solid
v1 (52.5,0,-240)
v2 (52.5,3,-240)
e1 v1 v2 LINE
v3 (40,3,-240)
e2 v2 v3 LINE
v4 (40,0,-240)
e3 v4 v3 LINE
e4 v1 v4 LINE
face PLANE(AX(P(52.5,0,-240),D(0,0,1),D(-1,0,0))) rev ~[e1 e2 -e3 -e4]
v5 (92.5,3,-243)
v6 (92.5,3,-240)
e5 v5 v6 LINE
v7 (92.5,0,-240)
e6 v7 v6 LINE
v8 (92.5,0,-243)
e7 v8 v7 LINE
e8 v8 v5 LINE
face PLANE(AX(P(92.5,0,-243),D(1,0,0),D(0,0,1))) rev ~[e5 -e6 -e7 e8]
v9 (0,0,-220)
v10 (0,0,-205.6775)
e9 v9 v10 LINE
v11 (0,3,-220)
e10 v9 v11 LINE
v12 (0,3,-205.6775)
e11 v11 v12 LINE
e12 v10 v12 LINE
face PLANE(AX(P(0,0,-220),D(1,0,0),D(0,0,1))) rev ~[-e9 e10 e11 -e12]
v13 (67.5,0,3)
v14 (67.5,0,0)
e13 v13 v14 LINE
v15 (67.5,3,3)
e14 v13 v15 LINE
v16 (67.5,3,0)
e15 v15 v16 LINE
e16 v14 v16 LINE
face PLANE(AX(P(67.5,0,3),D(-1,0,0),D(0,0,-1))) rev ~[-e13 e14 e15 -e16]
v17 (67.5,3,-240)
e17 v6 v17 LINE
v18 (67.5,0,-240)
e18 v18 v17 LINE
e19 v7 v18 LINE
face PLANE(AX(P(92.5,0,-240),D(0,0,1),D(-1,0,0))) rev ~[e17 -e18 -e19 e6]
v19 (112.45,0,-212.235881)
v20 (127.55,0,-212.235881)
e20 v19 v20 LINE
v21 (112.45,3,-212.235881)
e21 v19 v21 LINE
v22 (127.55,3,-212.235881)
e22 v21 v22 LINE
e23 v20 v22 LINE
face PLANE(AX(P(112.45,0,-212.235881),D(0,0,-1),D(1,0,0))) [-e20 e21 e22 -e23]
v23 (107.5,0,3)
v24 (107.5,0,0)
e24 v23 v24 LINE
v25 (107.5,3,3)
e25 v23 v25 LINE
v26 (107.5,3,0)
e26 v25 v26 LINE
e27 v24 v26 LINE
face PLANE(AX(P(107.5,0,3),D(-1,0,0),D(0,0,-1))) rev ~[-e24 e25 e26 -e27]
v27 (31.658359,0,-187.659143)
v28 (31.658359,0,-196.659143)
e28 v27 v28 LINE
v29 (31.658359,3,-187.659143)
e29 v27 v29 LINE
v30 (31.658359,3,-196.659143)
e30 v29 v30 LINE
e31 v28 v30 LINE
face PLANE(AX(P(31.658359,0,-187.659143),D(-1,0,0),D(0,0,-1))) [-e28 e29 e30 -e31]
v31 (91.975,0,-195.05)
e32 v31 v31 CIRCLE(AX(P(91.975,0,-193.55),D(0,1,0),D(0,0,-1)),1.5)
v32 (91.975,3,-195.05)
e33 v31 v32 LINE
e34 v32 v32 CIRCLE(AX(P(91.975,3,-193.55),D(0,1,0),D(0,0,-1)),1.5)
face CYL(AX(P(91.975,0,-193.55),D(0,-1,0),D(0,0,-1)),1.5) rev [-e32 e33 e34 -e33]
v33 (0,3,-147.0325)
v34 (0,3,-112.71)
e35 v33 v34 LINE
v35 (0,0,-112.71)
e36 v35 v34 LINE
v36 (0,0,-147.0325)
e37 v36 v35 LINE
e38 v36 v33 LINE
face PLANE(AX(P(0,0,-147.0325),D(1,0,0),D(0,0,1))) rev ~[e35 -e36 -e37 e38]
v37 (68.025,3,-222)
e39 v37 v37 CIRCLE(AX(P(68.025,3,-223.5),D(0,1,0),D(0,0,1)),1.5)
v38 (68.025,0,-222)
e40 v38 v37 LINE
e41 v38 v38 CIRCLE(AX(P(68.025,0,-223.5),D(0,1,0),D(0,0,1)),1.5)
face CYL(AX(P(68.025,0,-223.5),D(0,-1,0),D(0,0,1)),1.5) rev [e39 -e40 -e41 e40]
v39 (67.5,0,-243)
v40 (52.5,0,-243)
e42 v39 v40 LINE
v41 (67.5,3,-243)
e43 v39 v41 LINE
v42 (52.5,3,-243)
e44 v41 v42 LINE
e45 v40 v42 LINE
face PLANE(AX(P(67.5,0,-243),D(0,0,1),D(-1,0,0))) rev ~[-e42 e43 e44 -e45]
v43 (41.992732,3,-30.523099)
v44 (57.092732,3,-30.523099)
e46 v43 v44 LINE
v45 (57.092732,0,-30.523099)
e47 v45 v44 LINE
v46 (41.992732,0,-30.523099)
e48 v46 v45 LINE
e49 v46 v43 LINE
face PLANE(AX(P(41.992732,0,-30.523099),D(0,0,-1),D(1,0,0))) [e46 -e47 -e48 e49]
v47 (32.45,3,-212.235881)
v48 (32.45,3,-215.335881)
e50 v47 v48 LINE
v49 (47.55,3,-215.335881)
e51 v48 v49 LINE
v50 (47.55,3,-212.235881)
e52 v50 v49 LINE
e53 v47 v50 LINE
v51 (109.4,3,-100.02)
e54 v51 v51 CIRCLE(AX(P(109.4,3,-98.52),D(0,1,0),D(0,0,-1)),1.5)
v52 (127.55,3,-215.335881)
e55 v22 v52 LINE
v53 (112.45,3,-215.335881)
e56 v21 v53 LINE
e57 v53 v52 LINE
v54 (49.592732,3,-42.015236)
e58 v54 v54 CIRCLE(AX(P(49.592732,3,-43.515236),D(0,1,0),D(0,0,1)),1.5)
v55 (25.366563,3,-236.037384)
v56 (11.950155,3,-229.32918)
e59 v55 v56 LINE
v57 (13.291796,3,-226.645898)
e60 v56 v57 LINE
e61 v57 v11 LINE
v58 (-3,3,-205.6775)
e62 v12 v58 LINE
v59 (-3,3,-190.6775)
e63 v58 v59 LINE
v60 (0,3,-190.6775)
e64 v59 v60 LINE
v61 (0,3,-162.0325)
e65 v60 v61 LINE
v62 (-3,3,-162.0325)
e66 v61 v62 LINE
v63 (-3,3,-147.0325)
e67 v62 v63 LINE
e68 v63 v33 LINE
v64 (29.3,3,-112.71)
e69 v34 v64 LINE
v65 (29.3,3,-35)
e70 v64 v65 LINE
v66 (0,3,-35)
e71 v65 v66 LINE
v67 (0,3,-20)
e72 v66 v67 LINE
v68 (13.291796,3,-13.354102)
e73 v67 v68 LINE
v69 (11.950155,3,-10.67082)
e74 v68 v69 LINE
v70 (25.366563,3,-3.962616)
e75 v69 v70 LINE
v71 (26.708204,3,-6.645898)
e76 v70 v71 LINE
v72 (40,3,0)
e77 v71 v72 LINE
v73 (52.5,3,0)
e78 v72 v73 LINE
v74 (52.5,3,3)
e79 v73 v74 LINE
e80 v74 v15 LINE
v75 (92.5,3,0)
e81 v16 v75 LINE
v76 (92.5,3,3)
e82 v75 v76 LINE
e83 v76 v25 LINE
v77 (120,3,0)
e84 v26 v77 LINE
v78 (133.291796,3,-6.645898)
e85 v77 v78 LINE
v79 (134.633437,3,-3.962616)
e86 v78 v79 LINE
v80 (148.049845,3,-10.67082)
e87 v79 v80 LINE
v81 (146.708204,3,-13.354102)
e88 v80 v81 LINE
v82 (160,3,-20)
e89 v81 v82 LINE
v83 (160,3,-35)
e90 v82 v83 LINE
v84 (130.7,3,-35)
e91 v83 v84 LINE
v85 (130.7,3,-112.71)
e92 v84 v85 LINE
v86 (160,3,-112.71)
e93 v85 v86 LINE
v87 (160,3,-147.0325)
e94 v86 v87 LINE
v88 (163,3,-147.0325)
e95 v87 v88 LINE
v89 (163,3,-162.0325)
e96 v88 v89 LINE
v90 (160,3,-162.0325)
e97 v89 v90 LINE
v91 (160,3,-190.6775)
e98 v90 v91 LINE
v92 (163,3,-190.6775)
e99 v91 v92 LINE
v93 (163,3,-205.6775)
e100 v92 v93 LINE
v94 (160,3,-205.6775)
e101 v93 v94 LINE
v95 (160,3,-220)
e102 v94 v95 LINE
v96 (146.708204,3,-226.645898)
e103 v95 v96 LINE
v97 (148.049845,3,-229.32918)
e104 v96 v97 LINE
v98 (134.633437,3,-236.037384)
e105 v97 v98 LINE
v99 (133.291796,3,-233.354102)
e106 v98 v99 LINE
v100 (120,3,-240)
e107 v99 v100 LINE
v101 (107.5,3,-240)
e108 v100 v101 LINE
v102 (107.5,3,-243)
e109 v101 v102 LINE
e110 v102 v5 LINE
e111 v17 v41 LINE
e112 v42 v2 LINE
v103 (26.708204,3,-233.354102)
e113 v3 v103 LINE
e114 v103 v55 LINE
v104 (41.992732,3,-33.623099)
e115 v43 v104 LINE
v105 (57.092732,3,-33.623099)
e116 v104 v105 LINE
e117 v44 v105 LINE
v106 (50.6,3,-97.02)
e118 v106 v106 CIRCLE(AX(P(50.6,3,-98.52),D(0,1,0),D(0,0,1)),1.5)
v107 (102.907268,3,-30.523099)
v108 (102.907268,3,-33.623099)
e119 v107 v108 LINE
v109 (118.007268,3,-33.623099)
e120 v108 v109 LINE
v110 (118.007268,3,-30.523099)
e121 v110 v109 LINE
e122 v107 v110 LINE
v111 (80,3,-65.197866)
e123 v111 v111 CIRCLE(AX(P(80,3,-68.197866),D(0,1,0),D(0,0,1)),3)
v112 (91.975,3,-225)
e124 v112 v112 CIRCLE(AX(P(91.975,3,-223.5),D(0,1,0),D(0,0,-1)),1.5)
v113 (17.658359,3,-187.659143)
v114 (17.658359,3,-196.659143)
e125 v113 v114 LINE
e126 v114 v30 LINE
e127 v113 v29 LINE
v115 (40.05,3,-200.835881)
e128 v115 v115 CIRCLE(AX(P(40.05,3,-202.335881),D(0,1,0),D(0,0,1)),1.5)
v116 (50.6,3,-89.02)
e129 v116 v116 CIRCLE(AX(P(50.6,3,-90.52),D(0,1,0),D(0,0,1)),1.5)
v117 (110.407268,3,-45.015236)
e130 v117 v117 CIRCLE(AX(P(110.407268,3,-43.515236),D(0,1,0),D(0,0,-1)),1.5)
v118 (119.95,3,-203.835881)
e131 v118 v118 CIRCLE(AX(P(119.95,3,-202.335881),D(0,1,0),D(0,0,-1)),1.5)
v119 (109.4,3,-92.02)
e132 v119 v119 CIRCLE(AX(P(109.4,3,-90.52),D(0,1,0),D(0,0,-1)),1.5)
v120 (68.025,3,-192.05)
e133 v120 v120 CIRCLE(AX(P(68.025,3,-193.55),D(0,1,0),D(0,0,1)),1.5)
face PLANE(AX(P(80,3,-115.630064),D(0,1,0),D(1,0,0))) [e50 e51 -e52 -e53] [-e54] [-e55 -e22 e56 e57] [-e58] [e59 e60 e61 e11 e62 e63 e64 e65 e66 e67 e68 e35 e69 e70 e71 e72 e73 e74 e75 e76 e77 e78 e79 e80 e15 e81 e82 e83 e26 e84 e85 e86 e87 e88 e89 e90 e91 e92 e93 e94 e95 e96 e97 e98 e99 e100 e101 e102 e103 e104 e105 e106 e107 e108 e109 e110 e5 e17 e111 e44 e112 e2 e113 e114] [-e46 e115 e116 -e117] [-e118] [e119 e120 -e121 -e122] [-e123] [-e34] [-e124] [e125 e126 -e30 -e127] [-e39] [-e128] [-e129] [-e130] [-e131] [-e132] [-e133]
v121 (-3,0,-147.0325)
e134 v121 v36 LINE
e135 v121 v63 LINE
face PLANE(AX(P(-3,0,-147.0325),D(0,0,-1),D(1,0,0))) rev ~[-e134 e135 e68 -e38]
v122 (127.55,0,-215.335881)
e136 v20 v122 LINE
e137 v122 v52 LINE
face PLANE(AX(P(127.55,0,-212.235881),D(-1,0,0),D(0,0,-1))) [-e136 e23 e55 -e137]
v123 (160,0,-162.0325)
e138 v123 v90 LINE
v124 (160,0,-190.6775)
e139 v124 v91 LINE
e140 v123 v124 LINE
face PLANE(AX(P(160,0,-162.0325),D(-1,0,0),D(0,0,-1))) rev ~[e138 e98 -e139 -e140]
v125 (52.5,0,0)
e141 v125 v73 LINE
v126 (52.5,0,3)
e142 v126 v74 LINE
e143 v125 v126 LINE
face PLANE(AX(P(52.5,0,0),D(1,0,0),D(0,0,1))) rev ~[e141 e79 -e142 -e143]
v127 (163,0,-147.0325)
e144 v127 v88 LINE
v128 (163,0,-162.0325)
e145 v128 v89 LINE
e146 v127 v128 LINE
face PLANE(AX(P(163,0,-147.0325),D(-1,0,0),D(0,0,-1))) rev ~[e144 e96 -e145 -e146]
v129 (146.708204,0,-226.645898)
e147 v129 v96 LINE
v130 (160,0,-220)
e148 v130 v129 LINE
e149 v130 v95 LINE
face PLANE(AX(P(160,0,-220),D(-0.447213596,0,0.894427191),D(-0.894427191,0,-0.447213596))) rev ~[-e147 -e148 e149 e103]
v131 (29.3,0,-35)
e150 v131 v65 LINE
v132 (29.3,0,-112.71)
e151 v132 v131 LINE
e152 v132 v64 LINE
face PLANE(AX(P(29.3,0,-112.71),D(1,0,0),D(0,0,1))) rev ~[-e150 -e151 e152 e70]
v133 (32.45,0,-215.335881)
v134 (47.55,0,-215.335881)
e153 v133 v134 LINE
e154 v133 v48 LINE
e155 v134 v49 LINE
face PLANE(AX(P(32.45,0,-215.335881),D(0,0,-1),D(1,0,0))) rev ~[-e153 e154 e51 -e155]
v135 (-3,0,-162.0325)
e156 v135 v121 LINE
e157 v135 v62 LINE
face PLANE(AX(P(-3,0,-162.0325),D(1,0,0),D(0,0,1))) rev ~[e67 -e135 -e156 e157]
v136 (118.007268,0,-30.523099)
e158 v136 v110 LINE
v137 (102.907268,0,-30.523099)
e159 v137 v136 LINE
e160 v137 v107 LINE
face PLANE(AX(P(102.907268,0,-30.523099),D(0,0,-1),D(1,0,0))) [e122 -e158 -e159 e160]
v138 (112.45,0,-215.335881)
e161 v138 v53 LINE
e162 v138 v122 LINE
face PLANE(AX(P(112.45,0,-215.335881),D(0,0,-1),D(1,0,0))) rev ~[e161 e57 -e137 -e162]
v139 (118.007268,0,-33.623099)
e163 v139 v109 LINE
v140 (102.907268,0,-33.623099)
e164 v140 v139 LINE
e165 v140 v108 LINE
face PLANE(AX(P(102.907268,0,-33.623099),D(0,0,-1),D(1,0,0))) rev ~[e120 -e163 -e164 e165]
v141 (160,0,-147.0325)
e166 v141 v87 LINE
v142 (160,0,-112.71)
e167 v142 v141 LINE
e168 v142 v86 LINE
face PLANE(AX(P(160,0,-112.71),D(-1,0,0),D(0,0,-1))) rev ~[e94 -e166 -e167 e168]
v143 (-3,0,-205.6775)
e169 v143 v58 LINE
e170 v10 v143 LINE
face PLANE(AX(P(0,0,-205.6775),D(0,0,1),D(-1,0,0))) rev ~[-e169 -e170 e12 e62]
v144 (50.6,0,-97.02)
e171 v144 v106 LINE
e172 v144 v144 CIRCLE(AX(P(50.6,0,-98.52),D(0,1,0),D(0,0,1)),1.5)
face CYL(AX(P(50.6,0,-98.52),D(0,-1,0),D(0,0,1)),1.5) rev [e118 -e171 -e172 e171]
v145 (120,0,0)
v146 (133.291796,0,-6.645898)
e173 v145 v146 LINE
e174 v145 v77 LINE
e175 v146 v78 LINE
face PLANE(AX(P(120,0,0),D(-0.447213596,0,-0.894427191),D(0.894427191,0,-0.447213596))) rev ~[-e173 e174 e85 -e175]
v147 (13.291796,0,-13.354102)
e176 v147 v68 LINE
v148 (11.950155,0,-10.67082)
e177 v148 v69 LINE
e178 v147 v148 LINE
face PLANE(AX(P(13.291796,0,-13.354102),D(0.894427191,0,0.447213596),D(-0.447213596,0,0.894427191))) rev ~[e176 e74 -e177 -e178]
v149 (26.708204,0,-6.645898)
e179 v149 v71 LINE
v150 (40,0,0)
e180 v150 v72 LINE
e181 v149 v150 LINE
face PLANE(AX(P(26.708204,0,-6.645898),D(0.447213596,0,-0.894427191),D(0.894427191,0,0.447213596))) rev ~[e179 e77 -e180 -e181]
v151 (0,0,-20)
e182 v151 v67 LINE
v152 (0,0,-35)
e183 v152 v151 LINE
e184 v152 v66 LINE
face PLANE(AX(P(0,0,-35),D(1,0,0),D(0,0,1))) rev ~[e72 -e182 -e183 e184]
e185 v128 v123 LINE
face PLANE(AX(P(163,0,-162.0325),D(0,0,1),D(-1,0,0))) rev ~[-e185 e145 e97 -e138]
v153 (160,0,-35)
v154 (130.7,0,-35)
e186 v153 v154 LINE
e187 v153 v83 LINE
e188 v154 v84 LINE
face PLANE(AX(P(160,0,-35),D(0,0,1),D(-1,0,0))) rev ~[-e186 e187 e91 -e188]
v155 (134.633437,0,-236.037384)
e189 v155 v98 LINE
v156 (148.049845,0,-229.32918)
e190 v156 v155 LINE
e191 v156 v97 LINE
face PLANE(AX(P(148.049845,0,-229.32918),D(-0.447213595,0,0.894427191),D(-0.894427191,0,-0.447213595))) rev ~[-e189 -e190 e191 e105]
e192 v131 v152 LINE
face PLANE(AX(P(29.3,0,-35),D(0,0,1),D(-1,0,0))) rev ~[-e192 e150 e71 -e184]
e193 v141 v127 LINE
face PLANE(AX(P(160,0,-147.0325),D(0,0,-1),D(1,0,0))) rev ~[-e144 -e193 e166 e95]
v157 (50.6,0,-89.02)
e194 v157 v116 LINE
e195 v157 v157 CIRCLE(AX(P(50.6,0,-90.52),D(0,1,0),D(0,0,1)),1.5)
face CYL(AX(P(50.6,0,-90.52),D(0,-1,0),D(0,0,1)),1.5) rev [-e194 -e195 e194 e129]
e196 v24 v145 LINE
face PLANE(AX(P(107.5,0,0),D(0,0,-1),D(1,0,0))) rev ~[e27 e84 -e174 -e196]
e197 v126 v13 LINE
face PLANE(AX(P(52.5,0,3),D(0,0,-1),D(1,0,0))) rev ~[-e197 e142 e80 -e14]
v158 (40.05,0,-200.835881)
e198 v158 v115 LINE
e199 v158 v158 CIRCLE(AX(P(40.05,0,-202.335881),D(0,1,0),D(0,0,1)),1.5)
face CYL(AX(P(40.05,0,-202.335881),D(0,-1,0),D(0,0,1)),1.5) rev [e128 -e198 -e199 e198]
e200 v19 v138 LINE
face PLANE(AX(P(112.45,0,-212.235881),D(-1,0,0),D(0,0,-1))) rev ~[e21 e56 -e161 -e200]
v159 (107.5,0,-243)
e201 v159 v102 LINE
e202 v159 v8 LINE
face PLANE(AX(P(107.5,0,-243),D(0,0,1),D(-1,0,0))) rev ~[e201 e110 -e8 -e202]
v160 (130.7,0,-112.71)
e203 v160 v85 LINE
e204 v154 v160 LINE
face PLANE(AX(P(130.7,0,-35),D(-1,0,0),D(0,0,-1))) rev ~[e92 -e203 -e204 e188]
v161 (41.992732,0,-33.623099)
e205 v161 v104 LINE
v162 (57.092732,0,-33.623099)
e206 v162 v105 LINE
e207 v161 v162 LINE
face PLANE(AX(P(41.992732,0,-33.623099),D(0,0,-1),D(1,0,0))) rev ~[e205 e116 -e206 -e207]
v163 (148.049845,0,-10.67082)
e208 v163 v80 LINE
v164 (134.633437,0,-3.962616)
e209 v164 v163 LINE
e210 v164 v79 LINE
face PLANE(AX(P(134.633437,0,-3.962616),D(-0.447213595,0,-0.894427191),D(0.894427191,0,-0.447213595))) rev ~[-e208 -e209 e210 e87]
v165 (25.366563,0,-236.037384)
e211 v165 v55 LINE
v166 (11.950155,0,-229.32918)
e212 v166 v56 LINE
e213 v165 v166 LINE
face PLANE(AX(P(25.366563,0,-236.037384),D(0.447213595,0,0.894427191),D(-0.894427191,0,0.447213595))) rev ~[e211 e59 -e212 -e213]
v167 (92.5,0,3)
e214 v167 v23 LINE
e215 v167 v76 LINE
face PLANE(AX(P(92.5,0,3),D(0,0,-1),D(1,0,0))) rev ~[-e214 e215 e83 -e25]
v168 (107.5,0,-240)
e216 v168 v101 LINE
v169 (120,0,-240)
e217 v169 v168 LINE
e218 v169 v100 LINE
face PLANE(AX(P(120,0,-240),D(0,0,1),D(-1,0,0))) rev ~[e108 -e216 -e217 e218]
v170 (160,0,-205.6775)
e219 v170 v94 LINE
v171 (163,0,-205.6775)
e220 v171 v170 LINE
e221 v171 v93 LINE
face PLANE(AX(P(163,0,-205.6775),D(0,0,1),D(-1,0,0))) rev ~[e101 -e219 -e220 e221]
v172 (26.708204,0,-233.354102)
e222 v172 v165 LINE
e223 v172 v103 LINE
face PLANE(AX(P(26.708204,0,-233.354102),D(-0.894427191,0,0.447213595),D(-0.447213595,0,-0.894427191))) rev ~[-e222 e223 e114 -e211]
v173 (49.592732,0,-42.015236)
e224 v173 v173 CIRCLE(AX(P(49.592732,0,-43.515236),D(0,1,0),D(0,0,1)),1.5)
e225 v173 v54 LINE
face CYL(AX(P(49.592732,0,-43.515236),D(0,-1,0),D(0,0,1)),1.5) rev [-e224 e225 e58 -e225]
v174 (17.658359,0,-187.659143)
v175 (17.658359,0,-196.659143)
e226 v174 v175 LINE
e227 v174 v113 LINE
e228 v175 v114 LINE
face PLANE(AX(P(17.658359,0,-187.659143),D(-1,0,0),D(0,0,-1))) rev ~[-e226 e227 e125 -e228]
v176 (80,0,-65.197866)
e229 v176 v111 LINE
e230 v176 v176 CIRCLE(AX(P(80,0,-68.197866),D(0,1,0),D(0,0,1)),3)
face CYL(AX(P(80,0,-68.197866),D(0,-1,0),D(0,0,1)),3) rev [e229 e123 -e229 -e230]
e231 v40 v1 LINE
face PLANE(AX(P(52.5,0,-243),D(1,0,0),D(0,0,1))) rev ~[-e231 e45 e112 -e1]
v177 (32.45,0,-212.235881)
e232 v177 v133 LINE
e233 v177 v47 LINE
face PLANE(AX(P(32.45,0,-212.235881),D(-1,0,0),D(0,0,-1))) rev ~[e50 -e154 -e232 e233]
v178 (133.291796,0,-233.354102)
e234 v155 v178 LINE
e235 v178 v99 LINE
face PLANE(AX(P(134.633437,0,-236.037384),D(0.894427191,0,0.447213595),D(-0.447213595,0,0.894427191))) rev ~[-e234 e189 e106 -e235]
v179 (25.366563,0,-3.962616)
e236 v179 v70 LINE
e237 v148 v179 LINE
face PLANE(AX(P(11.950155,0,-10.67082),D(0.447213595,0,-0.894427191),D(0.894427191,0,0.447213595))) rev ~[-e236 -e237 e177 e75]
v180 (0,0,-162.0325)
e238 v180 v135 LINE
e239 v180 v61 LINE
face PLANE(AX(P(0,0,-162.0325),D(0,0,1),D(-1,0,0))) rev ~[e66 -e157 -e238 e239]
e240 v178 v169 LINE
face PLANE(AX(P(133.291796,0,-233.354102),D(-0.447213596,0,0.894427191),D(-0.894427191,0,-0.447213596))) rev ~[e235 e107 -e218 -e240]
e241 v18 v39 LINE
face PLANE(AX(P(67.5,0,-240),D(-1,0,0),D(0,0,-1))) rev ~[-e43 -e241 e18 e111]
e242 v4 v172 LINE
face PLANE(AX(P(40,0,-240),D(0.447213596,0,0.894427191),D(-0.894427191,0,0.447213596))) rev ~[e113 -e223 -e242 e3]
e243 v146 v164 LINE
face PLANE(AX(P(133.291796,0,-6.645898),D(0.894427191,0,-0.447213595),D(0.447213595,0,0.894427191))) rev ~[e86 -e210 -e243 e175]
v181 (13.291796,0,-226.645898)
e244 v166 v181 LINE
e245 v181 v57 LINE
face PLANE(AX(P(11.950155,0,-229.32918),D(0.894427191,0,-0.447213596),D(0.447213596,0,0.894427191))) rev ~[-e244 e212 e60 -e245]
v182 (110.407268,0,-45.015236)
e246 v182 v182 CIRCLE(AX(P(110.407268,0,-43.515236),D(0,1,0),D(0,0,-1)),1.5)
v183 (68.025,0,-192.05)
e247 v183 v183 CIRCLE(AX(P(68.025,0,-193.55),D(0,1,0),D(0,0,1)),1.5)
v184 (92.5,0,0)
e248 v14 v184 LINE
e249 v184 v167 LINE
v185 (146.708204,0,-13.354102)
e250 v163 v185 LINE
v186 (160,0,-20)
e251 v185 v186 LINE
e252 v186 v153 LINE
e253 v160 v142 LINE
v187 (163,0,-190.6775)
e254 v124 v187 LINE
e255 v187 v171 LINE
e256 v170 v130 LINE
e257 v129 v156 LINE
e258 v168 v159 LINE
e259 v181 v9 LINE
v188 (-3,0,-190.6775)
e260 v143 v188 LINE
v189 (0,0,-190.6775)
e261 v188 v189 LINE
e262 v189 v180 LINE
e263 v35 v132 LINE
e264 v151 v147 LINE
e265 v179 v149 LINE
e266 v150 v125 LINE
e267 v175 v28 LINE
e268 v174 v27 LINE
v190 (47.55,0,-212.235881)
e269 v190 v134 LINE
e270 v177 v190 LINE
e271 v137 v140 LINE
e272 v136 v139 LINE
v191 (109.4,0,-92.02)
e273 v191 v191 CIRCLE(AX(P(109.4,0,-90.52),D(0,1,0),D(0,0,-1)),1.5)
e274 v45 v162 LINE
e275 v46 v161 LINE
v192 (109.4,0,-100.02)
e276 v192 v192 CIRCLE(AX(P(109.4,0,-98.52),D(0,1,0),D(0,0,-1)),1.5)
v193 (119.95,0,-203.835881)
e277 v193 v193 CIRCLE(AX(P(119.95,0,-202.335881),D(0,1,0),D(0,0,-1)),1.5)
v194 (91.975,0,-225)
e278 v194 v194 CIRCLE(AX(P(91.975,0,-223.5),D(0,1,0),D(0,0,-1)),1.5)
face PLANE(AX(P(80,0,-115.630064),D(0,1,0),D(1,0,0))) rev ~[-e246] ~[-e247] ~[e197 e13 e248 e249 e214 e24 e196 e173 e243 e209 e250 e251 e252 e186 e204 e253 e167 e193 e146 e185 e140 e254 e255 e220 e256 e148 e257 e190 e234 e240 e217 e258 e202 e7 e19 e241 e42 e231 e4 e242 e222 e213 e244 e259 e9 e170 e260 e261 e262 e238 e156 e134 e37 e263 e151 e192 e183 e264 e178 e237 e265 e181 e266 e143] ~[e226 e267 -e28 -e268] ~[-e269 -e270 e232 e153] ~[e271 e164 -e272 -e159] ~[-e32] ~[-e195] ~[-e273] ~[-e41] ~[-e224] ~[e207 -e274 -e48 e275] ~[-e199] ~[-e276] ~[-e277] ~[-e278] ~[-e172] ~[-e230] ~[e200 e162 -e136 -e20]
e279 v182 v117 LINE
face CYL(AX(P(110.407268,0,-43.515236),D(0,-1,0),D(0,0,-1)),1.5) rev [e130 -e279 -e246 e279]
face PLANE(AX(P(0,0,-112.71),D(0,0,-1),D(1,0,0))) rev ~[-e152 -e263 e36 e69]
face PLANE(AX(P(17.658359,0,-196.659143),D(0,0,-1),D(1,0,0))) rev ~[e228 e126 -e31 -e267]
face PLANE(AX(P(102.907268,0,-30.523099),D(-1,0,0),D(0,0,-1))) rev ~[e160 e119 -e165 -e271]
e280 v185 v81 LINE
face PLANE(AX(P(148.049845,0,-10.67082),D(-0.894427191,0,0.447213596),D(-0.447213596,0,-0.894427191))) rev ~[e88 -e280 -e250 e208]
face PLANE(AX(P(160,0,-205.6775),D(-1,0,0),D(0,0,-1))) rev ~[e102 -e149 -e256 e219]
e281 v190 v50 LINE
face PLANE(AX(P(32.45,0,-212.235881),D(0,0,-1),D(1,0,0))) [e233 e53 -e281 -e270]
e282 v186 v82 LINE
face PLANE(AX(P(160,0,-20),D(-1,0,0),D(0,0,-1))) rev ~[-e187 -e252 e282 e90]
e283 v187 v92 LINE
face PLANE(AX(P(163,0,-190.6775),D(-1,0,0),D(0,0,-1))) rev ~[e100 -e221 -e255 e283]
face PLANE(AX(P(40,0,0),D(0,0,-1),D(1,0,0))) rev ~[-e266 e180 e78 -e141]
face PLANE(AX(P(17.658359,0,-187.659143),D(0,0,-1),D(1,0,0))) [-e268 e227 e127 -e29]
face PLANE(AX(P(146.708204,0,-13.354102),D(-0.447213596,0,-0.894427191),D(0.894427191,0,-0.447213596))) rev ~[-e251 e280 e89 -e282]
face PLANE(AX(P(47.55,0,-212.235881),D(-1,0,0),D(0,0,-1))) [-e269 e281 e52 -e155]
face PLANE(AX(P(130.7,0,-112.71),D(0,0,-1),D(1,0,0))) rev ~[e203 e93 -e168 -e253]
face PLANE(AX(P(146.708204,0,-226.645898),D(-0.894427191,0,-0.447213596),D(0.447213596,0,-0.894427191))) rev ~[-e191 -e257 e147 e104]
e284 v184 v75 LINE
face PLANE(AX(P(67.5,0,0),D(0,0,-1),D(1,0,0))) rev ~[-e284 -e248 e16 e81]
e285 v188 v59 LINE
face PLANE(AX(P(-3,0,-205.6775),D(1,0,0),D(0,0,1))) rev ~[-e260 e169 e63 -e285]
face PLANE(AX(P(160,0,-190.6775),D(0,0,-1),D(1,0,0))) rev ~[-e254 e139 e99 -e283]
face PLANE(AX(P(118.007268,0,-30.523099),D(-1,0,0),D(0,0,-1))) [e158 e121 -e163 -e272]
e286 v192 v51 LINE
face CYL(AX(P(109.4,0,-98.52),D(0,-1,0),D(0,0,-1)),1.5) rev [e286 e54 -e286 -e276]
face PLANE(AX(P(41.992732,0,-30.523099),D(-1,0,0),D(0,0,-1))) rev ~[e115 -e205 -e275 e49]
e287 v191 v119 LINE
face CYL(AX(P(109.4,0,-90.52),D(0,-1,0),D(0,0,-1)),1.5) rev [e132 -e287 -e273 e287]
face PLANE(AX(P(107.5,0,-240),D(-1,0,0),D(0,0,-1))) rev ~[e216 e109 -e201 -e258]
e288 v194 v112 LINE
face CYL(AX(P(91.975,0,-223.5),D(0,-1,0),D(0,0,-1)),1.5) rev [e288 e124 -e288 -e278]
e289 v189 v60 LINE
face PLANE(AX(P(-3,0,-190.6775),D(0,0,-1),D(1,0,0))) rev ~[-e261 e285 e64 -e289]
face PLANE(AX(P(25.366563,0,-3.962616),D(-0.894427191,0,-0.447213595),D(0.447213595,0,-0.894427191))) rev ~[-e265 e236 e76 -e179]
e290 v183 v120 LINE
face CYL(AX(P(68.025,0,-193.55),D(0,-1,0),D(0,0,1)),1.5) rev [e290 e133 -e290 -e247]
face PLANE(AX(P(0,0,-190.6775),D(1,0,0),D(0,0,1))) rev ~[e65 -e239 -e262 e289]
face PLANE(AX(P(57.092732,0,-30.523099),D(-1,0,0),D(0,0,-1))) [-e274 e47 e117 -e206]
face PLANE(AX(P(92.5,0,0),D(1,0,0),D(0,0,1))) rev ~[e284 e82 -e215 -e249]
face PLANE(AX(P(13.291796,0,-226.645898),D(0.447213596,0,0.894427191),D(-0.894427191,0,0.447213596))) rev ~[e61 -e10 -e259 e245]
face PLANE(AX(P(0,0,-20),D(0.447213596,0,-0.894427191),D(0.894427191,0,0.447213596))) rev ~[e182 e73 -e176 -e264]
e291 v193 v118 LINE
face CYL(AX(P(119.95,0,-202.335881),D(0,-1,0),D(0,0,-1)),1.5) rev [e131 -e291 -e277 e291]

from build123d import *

# Parameters (mm, degrees)
SKETCH1_R           = 1.5
SKETCH1_R_2         = 3
SKETCH1_W           = 15.1
SKETCH1_H           = 3.1
SKETCH1_W_2         = 14
SKETCH1_H_2         = 9
BOSS_EXTRUDE1_DEPTH = 3


with BuildPart() as part:
    # Sketch1 → Boss-Extrude1 (new body)
    with BuildSketch(Plane(origin=(0, 0, 0), x_dir=(1, 0, 0), z_dir=(0, 1, 0))):
        Polygon((120, 0), (133.291796068, 6.645898034), (134.633436854, 3.962616461), (148.049844719, 10.670820393), (146.708203932, 13.354101966), (160, 20), (160, 35), (130.7, 35), (130.7, 112.71), (160, 112.71), (160, 147.0325), (163, 147.0325), (163, 162.0325), (160, 162.0325), (160, 190.6775), (163, 190.6775), (163, 205.6775), (160, 205.6775), (160, 220), (146.708203932, 226.645898034), (148.049844719, 229.329179607), (134.633436854, 236.037383539), (133.291796068, 233.354101966), (120, 240), (107.5, 240), (107.5, 243), (92.5, 243), (92.5, 240), (67.5, 240), (67.5, 243), (52.5, 243), (52.5, 240), (40, 240), (26.708203932, 233.354101966), (25.366563146, 236.037383539), (11.950155281, 229.329179607), (13.291796068, 226.645898034), (0, 220), (0, 205.6775), (-3, 205.6775), (-3, 190.6775), (0, 190.6775), (0, 162.0325), (-3, 162.0325), (-3, 147.0325), (0, 147.0325), (0, 112.71), (29.3, 112.71), (29.3, 35), (0, 35), (0, 20), (13.291796068, 13.354101966), (11.950155281, 10.670820393), (25.366563146, 3.962616461), (26.708203932, 6.645898034), (40, 0), (52.5, 0), (52.5, -3), (67.5, -3), (67.5, 0), (92.5, 0), (92.5, -3), (107.5, -3), (107.5, 0), align=None)
        with Locations(Location((50.6, 98.52, 0), (0, 0, 270))):
            Circle(SKETCH1_R, mode=Mode.SUBTRACT)
        with Locations(Location((50.6, 90.52, 0), (0, 0, 270))):
            Circle(SKETCH1_R, mode=Mode.SUBTRACT)
        with Locations(Location((68.025, 223.5, 0), (0, 0, 270))):
            Circle(SKETCH1_R, mode=Mode.SUBTRACT)
        with Locations(Location((68.025, 193.55, 0), (0, 0, 270))):
            Circle(SKETCH1_R, mode=Mode.SUBTRACT)
        with Locations(Location((91.975, 193.55, 0), (0, 0, 90))):
            Circle(SKETCH1_R, mode=Mode.SUBTRACT)
        with Locations(Location((91.975, 223.5, 0), (0, 0, 90))):
            Circle(SKETCH1_R, mode=Mode.SUBTRACT)
        with Locations(Location((109.4, 90.52, 0), (0, 0, 90))):
            Circle(SKETCH1_R, mode=Mode.SUBTRACT)
        with Locations(Location((109.4, 98.52, 0), (0, 0, 90))):
            Circle(SKETCH1_R, mode=Mode.SUBTRACT)
        with Locations(Location((40.05, 202.335880608, 0), (0, 0, 270))):
            Circle(SKETCH1_R, mode=Mode.SUBTRACT)
        with Locations(Location((49.592731594, 43.515235673, 0), (0, 0, 270))):
            Circle(SKETCH1_R, mode=Mode.SUBTRACT)
        with Locations(Location((110.407268406, 43.515235673, 0), (0, 0, 90))):
            Circle(SKETCH1_R, mode=Mode.SUBTRACT)
        with Locations(Location((119.95, 202.335880608, 0), (0, 0, 90))):
            Circle(SKETCH1_R, mode=Mode.SUBTRACT)
        with Locations(Location((80, 68.197866296, 0), (0, 0, 270))):
            Circle(SKETCH1_R_2, mode=Mode.SUBTRACT)
        with Locations((40, 213.785880608)):
            Rectangle(SKETCH1_W, SKETCH1_H, mode=Mode.SUBTRACT)
        with Locations((49.542731594, 32.073098627)):
            Rectangle(SKETCH1_W, SKETCH1_H, mode=Mode.SUBTRACT)
        with Locations((120, 213.785880608)):
            Rectangle(SKETCH1_W, SKETCH1_H, mode=Mode.SUBTRACT)
        with Locations((110.457268406, 32.073098627)):
            Rectangle(SKETCH1_W, SKETCH1_H, mode=Mode.SUBTRACT)
        with Locations((24.658359214, 192.159143415)):
            Rectangle(SKETCH1_W_2, SKETCH1_H_2, mode=Mode.SUBTRACT)
    extrude(amount=BOSS_EXTRUDE1_DEPTH)


solid = part.part
